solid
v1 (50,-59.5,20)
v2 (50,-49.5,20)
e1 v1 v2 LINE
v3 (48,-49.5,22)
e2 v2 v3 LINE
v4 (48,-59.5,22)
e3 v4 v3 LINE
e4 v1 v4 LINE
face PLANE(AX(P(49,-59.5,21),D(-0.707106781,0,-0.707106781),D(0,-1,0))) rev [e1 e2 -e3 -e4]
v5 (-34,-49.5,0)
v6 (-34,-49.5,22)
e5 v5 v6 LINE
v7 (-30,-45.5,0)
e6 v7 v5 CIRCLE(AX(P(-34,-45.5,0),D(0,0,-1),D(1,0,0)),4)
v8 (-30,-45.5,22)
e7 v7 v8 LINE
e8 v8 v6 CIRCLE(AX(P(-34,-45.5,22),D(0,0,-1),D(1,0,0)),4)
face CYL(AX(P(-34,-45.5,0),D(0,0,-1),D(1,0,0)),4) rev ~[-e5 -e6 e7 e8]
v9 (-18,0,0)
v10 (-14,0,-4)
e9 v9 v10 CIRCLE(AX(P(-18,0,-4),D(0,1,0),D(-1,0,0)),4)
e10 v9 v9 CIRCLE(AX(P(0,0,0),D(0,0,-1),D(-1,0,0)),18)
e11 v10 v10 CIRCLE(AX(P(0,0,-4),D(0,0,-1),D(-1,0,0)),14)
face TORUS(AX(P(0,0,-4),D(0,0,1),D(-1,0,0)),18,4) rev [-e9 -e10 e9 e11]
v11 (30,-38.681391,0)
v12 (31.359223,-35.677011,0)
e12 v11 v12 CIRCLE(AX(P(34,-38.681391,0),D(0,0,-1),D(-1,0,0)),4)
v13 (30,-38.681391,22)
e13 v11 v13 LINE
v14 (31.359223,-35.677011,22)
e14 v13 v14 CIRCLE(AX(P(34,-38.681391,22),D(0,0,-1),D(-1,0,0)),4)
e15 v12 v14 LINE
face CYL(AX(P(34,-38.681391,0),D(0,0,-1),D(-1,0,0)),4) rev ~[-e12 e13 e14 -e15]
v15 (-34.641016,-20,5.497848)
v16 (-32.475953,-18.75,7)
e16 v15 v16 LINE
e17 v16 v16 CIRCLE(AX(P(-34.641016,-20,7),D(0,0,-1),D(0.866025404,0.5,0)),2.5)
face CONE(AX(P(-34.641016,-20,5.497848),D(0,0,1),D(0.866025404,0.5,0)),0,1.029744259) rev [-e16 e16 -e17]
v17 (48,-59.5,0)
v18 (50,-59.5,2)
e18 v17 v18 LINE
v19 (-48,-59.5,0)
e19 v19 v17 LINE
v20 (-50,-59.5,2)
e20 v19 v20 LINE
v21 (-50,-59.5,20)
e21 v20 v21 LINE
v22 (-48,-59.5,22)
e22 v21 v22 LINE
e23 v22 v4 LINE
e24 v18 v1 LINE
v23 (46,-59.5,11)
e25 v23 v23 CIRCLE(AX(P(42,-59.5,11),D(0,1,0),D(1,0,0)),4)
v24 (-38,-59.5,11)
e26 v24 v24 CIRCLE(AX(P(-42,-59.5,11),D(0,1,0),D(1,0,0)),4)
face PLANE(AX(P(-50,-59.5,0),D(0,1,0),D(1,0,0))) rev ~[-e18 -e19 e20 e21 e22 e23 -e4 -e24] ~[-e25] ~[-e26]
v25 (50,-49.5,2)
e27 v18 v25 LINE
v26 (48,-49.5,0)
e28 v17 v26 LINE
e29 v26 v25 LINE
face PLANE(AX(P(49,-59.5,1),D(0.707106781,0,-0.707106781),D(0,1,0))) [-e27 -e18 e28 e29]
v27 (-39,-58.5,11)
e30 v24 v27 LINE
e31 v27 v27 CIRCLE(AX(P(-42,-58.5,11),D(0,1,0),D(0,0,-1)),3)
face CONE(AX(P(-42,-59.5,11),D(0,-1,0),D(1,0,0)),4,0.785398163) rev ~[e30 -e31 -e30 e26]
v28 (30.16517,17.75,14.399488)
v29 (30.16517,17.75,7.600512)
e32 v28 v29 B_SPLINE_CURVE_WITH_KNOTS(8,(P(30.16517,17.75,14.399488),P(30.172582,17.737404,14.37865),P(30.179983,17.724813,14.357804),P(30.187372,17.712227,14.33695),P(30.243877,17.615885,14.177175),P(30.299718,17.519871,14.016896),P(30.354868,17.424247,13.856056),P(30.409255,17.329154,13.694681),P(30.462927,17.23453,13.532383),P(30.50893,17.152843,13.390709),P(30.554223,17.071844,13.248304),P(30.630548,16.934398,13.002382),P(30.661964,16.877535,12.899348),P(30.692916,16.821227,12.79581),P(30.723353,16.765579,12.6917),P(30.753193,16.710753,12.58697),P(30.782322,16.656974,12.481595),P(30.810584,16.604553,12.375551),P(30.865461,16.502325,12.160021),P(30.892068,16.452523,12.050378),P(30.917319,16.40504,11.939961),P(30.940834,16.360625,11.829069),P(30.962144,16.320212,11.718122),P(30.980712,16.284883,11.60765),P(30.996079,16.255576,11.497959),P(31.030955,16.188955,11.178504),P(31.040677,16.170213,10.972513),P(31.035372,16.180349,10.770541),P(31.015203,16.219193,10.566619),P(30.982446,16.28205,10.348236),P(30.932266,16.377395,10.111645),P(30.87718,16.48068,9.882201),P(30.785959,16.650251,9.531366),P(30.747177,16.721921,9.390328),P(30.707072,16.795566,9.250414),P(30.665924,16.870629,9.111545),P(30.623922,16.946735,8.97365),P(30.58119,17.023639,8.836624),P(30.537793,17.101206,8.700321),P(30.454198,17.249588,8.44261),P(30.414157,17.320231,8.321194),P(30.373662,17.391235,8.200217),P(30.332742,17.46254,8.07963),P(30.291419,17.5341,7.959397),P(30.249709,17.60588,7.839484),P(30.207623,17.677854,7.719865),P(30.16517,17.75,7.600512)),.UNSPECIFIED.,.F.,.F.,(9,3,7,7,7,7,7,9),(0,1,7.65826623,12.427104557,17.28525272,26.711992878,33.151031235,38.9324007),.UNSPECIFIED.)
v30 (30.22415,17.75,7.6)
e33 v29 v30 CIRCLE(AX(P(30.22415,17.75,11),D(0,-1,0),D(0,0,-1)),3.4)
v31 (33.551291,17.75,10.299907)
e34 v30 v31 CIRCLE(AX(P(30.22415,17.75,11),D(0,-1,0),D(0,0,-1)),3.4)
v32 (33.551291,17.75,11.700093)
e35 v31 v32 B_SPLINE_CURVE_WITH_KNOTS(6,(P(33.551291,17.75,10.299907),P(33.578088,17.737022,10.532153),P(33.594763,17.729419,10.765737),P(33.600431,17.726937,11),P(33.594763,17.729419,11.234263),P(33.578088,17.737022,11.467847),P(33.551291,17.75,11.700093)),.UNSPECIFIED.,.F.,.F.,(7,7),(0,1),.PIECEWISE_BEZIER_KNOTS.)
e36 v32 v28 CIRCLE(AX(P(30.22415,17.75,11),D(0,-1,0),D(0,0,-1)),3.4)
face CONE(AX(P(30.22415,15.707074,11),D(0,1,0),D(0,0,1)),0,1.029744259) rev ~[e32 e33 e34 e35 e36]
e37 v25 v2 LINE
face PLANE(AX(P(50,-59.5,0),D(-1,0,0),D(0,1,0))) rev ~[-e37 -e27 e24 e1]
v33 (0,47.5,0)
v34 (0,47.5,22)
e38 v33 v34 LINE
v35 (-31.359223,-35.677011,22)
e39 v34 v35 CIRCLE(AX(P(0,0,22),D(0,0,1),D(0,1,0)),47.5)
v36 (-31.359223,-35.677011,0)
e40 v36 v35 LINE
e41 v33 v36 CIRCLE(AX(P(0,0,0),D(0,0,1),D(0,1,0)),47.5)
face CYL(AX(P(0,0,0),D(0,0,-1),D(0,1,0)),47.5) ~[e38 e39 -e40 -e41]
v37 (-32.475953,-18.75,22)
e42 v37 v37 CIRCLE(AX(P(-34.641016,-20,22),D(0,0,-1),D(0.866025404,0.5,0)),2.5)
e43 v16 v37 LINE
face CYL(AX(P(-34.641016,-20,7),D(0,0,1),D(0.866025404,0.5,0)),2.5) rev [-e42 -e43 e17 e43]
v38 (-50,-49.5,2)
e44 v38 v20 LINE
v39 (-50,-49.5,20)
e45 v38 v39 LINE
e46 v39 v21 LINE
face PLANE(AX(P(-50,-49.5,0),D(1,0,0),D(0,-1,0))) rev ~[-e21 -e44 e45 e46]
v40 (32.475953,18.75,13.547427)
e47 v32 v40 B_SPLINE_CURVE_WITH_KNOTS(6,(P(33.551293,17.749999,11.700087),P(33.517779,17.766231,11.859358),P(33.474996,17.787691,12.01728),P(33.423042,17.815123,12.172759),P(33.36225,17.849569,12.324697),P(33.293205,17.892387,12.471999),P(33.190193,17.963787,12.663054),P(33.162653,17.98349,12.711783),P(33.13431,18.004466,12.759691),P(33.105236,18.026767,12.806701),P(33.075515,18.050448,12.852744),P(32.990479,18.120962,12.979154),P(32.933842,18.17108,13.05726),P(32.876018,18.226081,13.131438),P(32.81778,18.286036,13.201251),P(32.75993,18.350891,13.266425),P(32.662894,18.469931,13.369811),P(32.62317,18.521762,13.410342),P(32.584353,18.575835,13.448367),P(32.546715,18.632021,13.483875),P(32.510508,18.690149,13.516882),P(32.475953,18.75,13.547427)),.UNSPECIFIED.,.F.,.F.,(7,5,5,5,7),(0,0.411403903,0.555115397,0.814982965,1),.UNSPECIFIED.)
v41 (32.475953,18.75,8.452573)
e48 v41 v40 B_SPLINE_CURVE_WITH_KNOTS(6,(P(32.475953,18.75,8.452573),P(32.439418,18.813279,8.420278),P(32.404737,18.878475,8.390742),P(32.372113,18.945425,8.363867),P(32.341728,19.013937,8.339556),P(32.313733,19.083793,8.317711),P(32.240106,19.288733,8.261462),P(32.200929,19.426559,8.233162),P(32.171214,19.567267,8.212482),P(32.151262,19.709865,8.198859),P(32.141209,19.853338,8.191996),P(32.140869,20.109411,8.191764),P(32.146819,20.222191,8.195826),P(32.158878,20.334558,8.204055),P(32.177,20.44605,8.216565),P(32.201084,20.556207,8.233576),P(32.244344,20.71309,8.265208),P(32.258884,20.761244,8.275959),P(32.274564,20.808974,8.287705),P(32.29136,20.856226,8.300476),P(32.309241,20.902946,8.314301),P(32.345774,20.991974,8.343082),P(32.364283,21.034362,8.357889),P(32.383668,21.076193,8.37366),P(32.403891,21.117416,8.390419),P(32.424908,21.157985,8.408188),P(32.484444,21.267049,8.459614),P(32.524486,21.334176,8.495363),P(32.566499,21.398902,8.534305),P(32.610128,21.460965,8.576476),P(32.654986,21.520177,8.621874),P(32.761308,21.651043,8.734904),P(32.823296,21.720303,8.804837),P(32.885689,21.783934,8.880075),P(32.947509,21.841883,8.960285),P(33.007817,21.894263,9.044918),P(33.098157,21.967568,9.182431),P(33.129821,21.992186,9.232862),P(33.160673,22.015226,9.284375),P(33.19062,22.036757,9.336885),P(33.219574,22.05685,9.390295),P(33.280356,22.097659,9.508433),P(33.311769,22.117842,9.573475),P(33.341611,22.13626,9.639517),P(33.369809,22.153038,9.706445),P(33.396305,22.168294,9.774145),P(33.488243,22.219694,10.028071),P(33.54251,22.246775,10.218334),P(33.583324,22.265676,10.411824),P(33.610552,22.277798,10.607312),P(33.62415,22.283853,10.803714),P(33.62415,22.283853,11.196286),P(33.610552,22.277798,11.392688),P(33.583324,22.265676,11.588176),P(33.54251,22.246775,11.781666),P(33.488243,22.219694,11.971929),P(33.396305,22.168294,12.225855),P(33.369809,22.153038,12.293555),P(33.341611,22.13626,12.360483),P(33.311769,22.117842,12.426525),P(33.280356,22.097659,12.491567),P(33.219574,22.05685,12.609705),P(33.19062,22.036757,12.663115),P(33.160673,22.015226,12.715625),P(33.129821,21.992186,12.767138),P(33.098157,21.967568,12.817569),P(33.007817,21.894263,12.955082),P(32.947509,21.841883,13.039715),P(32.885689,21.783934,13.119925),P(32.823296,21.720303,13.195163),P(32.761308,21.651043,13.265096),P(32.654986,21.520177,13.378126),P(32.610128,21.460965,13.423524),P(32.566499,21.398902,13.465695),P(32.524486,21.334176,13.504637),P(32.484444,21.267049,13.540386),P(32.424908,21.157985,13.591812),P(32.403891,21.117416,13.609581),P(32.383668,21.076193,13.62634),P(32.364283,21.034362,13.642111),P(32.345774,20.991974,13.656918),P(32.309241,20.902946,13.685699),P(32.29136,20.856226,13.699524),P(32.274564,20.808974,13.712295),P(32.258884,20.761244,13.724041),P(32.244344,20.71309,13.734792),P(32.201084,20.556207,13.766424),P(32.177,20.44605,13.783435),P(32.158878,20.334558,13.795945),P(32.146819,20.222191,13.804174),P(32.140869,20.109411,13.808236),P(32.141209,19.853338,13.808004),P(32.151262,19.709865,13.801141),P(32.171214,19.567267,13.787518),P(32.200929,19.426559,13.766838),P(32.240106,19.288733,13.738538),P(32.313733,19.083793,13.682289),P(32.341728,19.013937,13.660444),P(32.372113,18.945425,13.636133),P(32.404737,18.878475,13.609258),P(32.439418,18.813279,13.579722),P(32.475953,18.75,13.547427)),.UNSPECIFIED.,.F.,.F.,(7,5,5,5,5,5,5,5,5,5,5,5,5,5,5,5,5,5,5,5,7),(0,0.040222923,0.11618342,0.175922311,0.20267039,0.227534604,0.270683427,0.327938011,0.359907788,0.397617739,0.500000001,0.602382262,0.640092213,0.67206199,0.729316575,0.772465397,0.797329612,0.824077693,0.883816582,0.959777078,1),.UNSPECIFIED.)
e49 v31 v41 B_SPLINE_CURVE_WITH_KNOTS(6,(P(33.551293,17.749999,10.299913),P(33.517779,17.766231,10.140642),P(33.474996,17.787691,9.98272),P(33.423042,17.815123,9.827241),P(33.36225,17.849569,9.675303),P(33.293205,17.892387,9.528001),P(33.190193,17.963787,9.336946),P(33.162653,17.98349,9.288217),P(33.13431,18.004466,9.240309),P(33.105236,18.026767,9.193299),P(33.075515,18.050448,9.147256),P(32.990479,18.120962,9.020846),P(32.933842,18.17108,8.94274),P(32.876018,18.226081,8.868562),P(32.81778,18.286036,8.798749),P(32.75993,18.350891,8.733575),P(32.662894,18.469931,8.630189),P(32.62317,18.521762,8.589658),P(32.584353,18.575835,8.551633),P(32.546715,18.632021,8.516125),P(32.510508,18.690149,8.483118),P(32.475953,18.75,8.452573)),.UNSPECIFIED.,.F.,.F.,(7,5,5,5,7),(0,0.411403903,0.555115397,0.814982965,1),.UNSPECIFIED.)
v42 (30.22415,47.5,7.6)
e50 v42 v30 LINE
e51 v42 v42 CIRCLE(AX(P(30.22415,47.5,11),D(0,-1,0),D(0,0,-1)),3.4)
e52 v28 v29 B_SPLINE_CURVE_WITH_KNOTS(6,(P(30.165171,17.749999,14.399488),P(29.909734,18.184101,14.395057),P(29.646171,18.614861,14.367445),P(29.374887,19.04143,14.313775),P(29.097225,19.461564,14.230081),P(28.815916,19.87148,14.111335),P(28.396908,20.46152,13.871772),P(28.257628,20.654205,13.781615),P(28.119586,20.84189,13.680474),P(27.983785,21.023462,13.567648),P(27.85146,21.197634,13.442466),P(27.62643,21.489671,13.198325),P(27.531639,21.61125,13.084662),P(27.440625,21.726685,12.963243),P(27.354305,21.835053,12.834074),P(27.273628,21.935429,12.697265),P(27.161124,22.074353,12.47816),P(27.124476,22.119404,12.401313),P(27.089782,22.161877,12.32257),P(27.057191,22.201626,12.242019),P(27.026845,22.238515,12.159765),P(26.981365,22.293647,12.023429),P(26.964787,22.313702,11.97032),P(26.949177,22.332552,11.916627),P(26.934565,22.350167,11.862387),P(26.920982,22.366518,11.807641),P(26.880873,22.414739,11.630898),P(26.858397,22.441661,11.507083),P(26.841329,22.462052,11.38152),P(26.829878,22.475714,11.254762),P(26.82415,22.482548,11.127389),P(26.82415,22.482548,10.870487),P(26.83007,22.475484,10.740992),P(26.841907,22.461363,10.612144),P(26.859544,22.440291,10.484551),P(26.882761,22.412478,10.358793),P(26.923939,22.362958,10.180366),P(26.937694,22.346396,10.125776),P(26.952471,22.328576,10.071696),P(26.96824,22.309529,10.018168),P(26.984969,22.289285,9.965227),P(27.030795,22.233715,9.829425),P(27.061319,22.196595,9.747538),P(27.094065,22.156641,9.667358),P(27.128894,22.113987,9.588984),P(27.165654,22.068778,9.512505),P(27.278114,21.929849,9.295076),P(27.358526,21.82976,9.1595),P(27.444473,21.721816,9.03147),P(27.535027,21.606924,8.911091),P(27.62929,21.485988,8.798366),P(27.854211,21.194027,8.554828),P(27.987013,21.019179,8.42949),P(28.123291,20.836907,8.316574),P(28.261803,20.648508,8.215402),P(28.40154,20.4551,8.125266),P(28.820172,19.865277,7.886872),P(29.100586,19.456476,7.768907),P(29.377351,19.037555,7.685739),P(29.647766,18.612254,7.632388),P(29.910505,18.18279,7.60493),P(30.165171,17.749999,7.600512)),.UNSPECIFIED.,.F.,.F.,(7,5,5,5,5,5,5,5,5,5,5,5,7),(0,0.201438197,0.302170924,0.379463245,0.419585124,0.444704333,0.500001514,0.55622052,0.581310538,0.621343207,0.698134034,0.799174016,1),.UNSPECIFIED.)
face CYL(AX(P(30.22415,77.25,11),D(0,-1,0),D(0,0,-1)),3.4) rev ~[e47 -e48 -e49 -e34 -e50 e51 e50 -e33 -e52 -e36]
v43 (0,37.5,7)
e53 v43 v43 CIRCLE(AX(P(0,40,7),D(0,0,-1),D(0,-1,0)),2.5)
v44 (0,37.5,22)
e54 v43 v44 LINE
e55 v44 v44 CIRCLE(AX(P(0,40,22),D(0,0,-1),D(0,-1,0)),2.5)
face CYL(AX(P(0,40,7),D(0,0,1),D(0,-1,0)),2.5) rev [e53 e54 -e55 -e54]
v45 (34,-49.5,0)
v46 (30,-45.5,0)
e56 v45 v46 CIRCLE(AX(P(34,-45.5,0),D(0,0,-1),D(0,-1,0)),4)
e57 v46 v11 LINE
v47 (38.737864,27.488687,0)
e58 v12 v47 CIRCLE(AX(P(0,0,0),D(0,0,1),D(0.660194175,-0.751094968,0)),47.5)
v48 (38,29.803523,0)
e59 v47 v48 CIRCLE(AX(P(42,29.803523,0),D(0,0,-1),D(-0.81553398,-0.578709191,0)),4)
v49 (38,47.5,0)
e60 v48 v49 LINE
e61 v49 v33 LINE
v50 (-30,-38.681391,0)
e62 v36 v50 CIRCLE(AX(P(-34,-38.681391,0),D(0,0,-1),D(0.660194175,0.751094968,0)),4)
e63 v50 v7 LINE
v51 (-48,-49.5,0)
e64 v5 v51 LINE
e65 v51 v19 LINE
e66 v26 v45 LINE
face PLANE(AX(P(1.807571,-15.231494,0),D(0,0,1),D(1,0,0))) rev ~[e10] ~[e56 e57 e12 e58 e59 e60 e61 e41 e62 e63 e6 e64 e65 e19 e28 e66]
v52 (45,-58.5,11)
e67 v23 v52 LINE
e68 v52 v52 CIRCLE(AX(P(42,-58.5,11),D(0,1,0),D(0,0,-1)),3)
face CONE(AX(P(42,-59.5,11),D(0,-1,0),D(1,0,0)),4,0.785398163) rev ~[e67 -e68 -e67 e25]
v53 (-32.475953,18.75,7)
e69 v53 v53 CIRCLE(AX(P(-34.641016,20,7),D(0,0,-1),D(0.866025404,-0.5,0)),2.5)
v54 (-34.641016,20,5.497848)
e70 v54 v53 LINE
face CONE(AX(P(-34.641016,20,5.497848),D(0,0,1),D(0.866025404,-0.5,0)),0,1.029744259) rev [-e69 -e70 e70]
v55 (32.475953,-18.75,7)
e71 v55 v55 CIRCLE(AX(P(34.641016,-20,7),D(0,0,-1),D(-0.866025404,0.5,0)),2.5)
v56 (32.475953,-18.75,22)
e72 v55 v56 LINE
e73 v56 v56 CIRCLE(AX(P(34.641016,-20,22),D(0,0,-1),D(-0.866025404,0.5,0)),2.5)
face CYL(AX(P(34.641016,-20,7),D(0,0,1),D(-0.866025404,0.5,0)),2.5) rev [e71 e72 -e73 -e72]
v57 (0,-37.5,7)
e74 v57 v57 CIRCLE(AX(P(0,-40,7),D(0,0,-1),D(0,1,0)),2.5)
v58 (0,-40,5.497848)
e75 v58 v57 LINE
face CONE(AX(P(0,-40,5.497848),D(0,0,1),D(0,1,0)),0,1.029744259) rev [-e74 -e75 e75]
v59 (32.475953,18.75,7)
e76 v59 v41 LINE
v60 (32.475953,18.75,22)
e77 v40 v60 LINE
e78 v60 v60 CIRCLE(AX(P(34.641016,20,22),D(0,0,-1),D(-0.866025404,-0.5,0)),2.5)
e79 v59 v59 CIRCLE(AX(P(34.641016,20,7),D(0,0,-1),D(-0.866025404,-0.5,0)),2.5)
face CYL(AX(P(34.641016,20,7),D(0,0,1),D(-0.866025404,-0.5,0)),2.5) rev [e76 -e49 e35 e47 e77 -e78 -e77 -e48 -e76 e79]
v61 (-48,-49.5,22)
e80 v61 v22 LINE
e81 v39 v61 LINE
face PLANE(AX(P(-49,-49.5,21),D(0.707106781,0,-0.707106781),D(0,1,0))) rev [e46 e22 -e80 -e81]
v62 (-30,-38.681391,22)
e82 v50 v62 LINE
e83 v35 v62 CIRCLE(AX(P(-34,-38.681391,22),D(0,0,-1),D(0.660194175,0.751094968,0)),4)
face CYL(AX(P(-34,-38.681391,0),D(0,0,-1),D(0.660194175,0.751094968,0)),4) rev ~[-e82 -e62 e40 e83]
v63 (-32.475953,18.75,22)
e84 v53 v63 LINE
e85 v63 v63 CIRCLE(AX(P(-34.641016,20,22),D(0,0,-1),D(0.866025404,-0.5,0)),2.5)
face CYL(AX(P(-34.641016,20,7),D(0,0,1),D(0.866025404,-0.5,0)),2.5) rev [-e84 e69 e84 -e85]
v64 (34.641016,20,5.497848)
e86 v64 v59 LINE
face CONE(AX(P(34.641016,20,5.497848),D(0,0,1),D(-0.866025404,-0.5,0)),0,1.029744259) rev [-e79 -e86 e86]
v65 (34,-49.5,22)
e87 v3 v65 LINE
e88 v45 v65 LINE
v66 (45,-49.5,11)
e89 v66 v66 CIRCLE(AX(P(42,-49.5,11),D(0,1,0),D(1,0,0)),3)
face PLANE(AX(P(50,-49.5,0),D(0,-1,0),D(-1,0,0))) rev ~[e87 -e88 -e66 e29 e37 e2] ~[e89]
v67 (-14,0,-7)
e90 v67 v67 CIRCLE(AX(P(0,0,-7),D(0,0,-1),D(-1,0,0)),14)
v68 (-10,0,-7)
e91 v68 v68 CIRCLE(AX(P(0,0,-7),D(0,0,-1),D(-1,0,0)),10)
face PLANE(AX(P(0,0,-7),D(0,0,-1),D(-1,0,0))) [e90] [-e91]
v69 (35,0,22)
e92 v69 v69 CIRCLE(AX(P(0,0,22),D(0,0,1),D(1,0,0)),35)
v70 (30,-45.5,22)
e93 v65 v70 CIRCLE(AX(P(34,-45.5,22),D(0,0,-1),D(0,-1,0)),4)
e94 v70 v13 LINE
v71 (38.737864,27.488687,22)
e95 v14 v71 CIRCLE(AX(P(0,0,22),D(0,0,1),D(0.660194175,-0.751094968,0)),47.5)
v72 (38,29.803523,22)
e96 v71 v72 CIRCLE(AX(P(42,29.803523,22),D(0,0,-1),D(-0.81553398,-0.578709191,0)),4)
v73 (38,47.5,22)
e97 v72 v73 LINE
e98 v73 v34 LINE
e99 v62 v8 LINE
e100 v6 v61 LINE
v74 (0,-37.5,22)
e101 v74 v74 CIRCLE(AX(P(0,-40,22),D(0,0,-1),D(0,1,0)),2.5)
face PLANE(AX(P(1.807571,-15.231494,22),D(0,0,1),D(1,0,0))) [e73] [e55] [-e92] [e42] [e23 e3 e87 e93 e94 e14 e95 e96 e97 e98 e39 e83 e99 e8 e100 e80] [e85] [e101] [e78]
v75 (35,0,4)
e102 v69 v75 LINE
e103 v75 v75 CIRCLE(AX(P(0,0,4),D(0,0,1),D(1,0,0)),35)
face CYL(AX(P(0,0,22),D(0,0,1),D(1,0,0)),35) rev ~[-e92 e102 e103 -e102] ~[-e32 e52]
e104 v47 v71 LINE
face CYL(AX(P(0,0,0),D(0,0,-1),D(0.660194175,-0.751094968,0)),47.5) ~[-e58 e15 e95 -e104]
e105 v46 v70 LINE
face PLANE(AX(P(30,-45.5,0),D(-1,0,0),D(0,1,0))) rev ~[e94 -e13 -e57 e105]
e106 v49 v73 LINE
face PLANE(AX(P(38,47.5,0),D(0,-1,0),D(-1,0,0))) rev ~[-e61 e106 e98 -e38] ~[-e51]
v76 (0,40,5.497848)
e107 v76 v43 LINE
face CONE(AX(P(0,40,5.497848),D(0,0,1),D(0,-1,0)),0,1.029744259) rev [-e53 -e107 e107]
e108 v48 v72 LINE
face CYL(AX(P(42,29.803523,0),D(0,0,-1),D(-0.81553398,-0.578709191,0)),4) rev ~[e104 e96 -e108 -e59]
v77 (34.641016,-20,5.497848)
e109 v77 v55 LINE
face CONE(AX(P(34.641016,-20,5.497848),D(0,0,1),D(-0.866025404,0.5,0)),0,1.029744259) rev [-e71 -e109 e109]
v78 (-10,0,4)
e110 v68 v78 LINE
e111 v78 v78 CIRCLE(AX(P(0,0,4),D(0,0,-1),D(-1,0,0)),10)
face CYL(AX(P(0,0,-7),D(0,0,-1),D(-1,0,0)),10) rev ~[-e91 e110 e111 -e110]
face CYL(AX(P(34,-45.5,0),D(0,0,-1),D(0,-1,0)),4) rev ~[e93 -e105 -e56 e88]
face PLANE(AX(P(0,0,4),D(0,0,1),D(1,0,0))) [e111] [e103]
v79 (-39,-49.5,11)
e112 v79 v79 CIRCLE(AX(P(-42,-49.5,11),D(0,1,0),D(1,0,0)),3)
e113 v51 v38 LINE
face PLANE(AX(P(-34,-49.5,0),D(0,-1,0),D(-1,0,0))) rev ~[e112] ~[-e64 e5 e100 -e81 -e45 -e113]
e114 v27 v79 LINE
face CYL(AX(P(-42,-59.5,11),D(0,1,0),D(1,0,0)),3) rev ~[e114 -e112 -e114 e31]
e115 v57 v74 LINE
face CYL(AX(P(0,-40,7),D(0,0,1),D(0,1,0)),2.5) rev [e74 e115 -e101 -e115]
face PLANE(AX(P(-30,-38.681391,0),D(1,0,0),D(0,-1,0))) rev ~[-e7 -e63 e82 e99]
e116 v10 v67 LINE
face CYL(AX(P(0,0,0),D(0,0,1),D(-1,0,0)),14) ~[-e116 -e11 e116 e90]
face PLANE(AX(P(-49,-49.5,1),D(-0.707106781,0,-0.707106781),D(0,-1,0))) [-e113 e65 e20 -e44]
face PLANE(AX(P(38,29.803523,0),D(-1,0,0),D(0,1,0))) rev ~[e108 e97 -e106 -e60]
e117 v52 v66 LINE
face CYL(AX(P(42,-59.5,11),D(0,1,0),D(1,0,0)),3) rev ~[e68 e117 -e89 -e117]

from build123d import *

# Parameters (mm, degrees)
BOSS_EXTRUDE1_DEPTH                                 = 22
SKETCH3_R                                           = 35
CUT_EXTRUDE1_DEPTH                                  = 18
SKETCH4_R                                           = 14
BOSS_EXTRUDE2_DEPTH                                 = 7
FILLET1_R                                           = 4
SKETCH5_R                                           = 10
CUT_EXTRUDE2_DEPTH                                  = 30
CHAMFER1_SIZE                                       = 2
M8X1_25_TAPPED_HOLE1_D                              = 6.8
M8X1_25_TAPPED_HOLE1_DEPTH                          = 29.75
M8X1_25_TAPPED_HOLE1_TIP                            = 2.042926105
CIRPATTERN1_COUNT                                   = 6
CSK_FOR_M6_COUNTERSUNK_FLAT_HEAD_SCREW2_D           = 6
CSK_FOR_M6_COUNTERSUNK_FLAT_HEAD_SCREW2_DEPTH       = 20
CSK_FOR_M6_COUNTERSUNK_FLAT_HEAD_SCREW2_CSINK_D     = 8
CSK_FOR_M6_COUNTERSUNK_FLAT_HEAD_SCREW2_CSINK_ANGLE = 90
CSK_FOR_M6_COUNTERSUNK_FLAT_HEAD_SCREW2_TIP         = 1.802581857


with BuildPart() as part:
    # Sketch2 → Boss-Extrude1 (new body)
    with BuildSketch(Plane.XY):
        with BuildLine():
            Line((-50, -59.5), (50, -59.5))
            Line((50, -59.5), (50, -49.5))
            Line((50, -49.5), (34, -49.5))
            ThreePointArc((34, -49.5), (31.171572875, -48.328427125), (30, -45.5))
            Line((30, -45.5), (30, -38.681390875))
            ThreePointArc((30, -38.681390875), (30.35561344, -37.032619635), (31.359223301, -35.677011001))
            ThreePointArc((31.359223301, -35.677011001), (47.179198283, -5.511193099), (38.737864078, 27.488686522))
            ThreePointArc((38.737864078, 27.488686522), (38.18892773, 28.588727762), (38, 29.803523282))
            Line((38, 29.803523282), (38, 47.5))
            Line((38, 47.5), (0, 47.5))
            ThreePointArc((0, 47.5), (-44.446079819, 16.756968363), (-31.359223301, -35.677011001))
            ThreePointArc((-31.359223301, -35.677011001), (-30.35561344, -37.032619635), (-30, -38.681390875))
            Line((-30, -38.681390875), (-30, -45.5))
            ThreePointArc((-30, -45.5), (-31.171572875, -48.328427125), (-34, -49.5))
            Line((-34, -49.5), (-50, -49.5))
            Line((-50, -49.5), (-50, -59.5))
        make_face()
    extrude(amount=BOSS_EXTRUDE1_DEPTH)

    # Sketch3 → Cut-Extrude1 (cut)
    with BuildSketch(Plane.XY.offset(22)):
        Circle(SKETCH3_R)
    extrude(amount=-CUT_EXTRUDE1_DEPTH, mode=Mode.SUBTRACT)

    # Sketch4 → Boss-Extrude2 (add)
    with BuildSketch(Plane(origin=(0, 0, 0), x_dir=(-1, 0, 0), z_dir=(0, 0, -1))):
        Circle(SKETCH4_R)
    extrude(amount=BOSS_EXTRUDE2_DEPTH)

    # Fillet1
    fillet1_edges = [part.edges().sort_by_distance(p)[0] for p in [
        (14, 0, 0),
    ]]
    fillet(fillet1_edges, radius=FILLET1_R)

    # Sketch5 → Cut-Extrude2 (cut, through all)
    with BuildSketch(Plane(origin=(0, 0, -7), x_dir=(-1, 0, 0), z_dir=(0, 0, -1))):
        Circle(SKETCH5_R)
    extrude(amount=-CUT_EXTRUDE2_DEPTH, mode=Mode.SUBTRACT)

    # Chamfer1
    chamfer1_edges = [part.edges().sort_by_distance(p)[0] for p in [
        (50, -54.5, 0),
        (-50, -54.5, 0),
        (-50, -54.5, 22),
        (50, -54.5, 22),
    ]]
    chamfer(chamfer1_edges, length=CHAMFER1_SIZE)

    # M8x1.25 Tapped Hole1
    with Locations(Plane(origin=(30.22415, 47.5, 11), x_dir=(0, 0, 1), z_dir=(0, 1, 0))):
        with Locations((0, 0)):
            Hole(M8X1_25_TAPPED_HOLE1_D / 2, depth=M8X1_25_TAPPED_HOLE1_DEPTH)
            with Locations((0, 0, -(M8X1_25_TAPPED_HOLE1_DEPTH + M8X1_25_TAPPED_HOLE1_TIP / 2))):  # 118° drill point
                Cone(0, M8X1_25_TAPPED_HOLE1_D / 2, M8X1_25_TAPPED_HOLE1_TIP, mode=Mode.SUBTRACT)

    # Sketch11 → M6x1.0 Tapped Hole1 (revolve, cut)
    with BuildSketch(Plane(origin=(0, 40, 22), x_dir=(0, -1, 0), z_dir=(1, 0, 0))):
        Polygon((0, 0), (0, 16.502151548), (2.5, 15), (2.5, 0), align=None)
    m6x1_0_tapped_hole1 = revolve(axis=Axis((0, 40, 28.35), (0, 0, -1)), mode=Mode.SUBTRACT)

    # CirPattern1: M6x1.0 Tapped Hole1 ×6 about axis
    cirpattern1_axis = Axis((0, 0, 0), (0, 0, 1))
    for i in range(1, CIRPATTERN1_COUNT):
        add(m6x1_0_tapped_hole1.rotate(cirpattern1_axis, i * 360 / CIRPATTERN1_COUNT), mode=Mode.SUBTRACT)

    # CSK for M6 Countersunk Flat Head Screw2
    with Locations(Plane(origin=(0, -59.5, 0), x_dir=(-1, 0, 0), z_dir=(0, -1, 0))):
        with Locations((-42, -11), (42, -11)):
            CounterSinkHole(CSK_FOR_M6_COUNTERSUNK_FLAT_HEAD_SCREW2_D / 2, CSK_FOR_M6_COUNTERSUNK_FLAT_HEAD_SCREW2_CSINK_D / 2, depth=CSK_FOR_M6_COUNTERSUNK_FLAT_HEAD_SCREW2_DEPTH, counter_sink_angle=CSK_FOR_M6_COUNTERSUNK_FLAT_HEAD_SCREW2_CSINK_ANGLE)
            with Locations((0, 0, -(CSK_FOR_M6_COUNTERSUNK_FLAT_HEAD_SCREW2_DEPTH + CSK_FOR_M6_COUNTERSUNK_FLAT_HEAD_SCREW2_TIP / 2))):  # 118° drill point
                Cone(0, CSK_FOR_M6_COUNTERSUNK_FLAT_HEAD_SCREW2_D / 2, CSK_FOR_M6_COUNTERSUNK_FLAT_HEAD_SCREW2_TIP, mode=Mode.SUBTRACT)


solid = part.part
